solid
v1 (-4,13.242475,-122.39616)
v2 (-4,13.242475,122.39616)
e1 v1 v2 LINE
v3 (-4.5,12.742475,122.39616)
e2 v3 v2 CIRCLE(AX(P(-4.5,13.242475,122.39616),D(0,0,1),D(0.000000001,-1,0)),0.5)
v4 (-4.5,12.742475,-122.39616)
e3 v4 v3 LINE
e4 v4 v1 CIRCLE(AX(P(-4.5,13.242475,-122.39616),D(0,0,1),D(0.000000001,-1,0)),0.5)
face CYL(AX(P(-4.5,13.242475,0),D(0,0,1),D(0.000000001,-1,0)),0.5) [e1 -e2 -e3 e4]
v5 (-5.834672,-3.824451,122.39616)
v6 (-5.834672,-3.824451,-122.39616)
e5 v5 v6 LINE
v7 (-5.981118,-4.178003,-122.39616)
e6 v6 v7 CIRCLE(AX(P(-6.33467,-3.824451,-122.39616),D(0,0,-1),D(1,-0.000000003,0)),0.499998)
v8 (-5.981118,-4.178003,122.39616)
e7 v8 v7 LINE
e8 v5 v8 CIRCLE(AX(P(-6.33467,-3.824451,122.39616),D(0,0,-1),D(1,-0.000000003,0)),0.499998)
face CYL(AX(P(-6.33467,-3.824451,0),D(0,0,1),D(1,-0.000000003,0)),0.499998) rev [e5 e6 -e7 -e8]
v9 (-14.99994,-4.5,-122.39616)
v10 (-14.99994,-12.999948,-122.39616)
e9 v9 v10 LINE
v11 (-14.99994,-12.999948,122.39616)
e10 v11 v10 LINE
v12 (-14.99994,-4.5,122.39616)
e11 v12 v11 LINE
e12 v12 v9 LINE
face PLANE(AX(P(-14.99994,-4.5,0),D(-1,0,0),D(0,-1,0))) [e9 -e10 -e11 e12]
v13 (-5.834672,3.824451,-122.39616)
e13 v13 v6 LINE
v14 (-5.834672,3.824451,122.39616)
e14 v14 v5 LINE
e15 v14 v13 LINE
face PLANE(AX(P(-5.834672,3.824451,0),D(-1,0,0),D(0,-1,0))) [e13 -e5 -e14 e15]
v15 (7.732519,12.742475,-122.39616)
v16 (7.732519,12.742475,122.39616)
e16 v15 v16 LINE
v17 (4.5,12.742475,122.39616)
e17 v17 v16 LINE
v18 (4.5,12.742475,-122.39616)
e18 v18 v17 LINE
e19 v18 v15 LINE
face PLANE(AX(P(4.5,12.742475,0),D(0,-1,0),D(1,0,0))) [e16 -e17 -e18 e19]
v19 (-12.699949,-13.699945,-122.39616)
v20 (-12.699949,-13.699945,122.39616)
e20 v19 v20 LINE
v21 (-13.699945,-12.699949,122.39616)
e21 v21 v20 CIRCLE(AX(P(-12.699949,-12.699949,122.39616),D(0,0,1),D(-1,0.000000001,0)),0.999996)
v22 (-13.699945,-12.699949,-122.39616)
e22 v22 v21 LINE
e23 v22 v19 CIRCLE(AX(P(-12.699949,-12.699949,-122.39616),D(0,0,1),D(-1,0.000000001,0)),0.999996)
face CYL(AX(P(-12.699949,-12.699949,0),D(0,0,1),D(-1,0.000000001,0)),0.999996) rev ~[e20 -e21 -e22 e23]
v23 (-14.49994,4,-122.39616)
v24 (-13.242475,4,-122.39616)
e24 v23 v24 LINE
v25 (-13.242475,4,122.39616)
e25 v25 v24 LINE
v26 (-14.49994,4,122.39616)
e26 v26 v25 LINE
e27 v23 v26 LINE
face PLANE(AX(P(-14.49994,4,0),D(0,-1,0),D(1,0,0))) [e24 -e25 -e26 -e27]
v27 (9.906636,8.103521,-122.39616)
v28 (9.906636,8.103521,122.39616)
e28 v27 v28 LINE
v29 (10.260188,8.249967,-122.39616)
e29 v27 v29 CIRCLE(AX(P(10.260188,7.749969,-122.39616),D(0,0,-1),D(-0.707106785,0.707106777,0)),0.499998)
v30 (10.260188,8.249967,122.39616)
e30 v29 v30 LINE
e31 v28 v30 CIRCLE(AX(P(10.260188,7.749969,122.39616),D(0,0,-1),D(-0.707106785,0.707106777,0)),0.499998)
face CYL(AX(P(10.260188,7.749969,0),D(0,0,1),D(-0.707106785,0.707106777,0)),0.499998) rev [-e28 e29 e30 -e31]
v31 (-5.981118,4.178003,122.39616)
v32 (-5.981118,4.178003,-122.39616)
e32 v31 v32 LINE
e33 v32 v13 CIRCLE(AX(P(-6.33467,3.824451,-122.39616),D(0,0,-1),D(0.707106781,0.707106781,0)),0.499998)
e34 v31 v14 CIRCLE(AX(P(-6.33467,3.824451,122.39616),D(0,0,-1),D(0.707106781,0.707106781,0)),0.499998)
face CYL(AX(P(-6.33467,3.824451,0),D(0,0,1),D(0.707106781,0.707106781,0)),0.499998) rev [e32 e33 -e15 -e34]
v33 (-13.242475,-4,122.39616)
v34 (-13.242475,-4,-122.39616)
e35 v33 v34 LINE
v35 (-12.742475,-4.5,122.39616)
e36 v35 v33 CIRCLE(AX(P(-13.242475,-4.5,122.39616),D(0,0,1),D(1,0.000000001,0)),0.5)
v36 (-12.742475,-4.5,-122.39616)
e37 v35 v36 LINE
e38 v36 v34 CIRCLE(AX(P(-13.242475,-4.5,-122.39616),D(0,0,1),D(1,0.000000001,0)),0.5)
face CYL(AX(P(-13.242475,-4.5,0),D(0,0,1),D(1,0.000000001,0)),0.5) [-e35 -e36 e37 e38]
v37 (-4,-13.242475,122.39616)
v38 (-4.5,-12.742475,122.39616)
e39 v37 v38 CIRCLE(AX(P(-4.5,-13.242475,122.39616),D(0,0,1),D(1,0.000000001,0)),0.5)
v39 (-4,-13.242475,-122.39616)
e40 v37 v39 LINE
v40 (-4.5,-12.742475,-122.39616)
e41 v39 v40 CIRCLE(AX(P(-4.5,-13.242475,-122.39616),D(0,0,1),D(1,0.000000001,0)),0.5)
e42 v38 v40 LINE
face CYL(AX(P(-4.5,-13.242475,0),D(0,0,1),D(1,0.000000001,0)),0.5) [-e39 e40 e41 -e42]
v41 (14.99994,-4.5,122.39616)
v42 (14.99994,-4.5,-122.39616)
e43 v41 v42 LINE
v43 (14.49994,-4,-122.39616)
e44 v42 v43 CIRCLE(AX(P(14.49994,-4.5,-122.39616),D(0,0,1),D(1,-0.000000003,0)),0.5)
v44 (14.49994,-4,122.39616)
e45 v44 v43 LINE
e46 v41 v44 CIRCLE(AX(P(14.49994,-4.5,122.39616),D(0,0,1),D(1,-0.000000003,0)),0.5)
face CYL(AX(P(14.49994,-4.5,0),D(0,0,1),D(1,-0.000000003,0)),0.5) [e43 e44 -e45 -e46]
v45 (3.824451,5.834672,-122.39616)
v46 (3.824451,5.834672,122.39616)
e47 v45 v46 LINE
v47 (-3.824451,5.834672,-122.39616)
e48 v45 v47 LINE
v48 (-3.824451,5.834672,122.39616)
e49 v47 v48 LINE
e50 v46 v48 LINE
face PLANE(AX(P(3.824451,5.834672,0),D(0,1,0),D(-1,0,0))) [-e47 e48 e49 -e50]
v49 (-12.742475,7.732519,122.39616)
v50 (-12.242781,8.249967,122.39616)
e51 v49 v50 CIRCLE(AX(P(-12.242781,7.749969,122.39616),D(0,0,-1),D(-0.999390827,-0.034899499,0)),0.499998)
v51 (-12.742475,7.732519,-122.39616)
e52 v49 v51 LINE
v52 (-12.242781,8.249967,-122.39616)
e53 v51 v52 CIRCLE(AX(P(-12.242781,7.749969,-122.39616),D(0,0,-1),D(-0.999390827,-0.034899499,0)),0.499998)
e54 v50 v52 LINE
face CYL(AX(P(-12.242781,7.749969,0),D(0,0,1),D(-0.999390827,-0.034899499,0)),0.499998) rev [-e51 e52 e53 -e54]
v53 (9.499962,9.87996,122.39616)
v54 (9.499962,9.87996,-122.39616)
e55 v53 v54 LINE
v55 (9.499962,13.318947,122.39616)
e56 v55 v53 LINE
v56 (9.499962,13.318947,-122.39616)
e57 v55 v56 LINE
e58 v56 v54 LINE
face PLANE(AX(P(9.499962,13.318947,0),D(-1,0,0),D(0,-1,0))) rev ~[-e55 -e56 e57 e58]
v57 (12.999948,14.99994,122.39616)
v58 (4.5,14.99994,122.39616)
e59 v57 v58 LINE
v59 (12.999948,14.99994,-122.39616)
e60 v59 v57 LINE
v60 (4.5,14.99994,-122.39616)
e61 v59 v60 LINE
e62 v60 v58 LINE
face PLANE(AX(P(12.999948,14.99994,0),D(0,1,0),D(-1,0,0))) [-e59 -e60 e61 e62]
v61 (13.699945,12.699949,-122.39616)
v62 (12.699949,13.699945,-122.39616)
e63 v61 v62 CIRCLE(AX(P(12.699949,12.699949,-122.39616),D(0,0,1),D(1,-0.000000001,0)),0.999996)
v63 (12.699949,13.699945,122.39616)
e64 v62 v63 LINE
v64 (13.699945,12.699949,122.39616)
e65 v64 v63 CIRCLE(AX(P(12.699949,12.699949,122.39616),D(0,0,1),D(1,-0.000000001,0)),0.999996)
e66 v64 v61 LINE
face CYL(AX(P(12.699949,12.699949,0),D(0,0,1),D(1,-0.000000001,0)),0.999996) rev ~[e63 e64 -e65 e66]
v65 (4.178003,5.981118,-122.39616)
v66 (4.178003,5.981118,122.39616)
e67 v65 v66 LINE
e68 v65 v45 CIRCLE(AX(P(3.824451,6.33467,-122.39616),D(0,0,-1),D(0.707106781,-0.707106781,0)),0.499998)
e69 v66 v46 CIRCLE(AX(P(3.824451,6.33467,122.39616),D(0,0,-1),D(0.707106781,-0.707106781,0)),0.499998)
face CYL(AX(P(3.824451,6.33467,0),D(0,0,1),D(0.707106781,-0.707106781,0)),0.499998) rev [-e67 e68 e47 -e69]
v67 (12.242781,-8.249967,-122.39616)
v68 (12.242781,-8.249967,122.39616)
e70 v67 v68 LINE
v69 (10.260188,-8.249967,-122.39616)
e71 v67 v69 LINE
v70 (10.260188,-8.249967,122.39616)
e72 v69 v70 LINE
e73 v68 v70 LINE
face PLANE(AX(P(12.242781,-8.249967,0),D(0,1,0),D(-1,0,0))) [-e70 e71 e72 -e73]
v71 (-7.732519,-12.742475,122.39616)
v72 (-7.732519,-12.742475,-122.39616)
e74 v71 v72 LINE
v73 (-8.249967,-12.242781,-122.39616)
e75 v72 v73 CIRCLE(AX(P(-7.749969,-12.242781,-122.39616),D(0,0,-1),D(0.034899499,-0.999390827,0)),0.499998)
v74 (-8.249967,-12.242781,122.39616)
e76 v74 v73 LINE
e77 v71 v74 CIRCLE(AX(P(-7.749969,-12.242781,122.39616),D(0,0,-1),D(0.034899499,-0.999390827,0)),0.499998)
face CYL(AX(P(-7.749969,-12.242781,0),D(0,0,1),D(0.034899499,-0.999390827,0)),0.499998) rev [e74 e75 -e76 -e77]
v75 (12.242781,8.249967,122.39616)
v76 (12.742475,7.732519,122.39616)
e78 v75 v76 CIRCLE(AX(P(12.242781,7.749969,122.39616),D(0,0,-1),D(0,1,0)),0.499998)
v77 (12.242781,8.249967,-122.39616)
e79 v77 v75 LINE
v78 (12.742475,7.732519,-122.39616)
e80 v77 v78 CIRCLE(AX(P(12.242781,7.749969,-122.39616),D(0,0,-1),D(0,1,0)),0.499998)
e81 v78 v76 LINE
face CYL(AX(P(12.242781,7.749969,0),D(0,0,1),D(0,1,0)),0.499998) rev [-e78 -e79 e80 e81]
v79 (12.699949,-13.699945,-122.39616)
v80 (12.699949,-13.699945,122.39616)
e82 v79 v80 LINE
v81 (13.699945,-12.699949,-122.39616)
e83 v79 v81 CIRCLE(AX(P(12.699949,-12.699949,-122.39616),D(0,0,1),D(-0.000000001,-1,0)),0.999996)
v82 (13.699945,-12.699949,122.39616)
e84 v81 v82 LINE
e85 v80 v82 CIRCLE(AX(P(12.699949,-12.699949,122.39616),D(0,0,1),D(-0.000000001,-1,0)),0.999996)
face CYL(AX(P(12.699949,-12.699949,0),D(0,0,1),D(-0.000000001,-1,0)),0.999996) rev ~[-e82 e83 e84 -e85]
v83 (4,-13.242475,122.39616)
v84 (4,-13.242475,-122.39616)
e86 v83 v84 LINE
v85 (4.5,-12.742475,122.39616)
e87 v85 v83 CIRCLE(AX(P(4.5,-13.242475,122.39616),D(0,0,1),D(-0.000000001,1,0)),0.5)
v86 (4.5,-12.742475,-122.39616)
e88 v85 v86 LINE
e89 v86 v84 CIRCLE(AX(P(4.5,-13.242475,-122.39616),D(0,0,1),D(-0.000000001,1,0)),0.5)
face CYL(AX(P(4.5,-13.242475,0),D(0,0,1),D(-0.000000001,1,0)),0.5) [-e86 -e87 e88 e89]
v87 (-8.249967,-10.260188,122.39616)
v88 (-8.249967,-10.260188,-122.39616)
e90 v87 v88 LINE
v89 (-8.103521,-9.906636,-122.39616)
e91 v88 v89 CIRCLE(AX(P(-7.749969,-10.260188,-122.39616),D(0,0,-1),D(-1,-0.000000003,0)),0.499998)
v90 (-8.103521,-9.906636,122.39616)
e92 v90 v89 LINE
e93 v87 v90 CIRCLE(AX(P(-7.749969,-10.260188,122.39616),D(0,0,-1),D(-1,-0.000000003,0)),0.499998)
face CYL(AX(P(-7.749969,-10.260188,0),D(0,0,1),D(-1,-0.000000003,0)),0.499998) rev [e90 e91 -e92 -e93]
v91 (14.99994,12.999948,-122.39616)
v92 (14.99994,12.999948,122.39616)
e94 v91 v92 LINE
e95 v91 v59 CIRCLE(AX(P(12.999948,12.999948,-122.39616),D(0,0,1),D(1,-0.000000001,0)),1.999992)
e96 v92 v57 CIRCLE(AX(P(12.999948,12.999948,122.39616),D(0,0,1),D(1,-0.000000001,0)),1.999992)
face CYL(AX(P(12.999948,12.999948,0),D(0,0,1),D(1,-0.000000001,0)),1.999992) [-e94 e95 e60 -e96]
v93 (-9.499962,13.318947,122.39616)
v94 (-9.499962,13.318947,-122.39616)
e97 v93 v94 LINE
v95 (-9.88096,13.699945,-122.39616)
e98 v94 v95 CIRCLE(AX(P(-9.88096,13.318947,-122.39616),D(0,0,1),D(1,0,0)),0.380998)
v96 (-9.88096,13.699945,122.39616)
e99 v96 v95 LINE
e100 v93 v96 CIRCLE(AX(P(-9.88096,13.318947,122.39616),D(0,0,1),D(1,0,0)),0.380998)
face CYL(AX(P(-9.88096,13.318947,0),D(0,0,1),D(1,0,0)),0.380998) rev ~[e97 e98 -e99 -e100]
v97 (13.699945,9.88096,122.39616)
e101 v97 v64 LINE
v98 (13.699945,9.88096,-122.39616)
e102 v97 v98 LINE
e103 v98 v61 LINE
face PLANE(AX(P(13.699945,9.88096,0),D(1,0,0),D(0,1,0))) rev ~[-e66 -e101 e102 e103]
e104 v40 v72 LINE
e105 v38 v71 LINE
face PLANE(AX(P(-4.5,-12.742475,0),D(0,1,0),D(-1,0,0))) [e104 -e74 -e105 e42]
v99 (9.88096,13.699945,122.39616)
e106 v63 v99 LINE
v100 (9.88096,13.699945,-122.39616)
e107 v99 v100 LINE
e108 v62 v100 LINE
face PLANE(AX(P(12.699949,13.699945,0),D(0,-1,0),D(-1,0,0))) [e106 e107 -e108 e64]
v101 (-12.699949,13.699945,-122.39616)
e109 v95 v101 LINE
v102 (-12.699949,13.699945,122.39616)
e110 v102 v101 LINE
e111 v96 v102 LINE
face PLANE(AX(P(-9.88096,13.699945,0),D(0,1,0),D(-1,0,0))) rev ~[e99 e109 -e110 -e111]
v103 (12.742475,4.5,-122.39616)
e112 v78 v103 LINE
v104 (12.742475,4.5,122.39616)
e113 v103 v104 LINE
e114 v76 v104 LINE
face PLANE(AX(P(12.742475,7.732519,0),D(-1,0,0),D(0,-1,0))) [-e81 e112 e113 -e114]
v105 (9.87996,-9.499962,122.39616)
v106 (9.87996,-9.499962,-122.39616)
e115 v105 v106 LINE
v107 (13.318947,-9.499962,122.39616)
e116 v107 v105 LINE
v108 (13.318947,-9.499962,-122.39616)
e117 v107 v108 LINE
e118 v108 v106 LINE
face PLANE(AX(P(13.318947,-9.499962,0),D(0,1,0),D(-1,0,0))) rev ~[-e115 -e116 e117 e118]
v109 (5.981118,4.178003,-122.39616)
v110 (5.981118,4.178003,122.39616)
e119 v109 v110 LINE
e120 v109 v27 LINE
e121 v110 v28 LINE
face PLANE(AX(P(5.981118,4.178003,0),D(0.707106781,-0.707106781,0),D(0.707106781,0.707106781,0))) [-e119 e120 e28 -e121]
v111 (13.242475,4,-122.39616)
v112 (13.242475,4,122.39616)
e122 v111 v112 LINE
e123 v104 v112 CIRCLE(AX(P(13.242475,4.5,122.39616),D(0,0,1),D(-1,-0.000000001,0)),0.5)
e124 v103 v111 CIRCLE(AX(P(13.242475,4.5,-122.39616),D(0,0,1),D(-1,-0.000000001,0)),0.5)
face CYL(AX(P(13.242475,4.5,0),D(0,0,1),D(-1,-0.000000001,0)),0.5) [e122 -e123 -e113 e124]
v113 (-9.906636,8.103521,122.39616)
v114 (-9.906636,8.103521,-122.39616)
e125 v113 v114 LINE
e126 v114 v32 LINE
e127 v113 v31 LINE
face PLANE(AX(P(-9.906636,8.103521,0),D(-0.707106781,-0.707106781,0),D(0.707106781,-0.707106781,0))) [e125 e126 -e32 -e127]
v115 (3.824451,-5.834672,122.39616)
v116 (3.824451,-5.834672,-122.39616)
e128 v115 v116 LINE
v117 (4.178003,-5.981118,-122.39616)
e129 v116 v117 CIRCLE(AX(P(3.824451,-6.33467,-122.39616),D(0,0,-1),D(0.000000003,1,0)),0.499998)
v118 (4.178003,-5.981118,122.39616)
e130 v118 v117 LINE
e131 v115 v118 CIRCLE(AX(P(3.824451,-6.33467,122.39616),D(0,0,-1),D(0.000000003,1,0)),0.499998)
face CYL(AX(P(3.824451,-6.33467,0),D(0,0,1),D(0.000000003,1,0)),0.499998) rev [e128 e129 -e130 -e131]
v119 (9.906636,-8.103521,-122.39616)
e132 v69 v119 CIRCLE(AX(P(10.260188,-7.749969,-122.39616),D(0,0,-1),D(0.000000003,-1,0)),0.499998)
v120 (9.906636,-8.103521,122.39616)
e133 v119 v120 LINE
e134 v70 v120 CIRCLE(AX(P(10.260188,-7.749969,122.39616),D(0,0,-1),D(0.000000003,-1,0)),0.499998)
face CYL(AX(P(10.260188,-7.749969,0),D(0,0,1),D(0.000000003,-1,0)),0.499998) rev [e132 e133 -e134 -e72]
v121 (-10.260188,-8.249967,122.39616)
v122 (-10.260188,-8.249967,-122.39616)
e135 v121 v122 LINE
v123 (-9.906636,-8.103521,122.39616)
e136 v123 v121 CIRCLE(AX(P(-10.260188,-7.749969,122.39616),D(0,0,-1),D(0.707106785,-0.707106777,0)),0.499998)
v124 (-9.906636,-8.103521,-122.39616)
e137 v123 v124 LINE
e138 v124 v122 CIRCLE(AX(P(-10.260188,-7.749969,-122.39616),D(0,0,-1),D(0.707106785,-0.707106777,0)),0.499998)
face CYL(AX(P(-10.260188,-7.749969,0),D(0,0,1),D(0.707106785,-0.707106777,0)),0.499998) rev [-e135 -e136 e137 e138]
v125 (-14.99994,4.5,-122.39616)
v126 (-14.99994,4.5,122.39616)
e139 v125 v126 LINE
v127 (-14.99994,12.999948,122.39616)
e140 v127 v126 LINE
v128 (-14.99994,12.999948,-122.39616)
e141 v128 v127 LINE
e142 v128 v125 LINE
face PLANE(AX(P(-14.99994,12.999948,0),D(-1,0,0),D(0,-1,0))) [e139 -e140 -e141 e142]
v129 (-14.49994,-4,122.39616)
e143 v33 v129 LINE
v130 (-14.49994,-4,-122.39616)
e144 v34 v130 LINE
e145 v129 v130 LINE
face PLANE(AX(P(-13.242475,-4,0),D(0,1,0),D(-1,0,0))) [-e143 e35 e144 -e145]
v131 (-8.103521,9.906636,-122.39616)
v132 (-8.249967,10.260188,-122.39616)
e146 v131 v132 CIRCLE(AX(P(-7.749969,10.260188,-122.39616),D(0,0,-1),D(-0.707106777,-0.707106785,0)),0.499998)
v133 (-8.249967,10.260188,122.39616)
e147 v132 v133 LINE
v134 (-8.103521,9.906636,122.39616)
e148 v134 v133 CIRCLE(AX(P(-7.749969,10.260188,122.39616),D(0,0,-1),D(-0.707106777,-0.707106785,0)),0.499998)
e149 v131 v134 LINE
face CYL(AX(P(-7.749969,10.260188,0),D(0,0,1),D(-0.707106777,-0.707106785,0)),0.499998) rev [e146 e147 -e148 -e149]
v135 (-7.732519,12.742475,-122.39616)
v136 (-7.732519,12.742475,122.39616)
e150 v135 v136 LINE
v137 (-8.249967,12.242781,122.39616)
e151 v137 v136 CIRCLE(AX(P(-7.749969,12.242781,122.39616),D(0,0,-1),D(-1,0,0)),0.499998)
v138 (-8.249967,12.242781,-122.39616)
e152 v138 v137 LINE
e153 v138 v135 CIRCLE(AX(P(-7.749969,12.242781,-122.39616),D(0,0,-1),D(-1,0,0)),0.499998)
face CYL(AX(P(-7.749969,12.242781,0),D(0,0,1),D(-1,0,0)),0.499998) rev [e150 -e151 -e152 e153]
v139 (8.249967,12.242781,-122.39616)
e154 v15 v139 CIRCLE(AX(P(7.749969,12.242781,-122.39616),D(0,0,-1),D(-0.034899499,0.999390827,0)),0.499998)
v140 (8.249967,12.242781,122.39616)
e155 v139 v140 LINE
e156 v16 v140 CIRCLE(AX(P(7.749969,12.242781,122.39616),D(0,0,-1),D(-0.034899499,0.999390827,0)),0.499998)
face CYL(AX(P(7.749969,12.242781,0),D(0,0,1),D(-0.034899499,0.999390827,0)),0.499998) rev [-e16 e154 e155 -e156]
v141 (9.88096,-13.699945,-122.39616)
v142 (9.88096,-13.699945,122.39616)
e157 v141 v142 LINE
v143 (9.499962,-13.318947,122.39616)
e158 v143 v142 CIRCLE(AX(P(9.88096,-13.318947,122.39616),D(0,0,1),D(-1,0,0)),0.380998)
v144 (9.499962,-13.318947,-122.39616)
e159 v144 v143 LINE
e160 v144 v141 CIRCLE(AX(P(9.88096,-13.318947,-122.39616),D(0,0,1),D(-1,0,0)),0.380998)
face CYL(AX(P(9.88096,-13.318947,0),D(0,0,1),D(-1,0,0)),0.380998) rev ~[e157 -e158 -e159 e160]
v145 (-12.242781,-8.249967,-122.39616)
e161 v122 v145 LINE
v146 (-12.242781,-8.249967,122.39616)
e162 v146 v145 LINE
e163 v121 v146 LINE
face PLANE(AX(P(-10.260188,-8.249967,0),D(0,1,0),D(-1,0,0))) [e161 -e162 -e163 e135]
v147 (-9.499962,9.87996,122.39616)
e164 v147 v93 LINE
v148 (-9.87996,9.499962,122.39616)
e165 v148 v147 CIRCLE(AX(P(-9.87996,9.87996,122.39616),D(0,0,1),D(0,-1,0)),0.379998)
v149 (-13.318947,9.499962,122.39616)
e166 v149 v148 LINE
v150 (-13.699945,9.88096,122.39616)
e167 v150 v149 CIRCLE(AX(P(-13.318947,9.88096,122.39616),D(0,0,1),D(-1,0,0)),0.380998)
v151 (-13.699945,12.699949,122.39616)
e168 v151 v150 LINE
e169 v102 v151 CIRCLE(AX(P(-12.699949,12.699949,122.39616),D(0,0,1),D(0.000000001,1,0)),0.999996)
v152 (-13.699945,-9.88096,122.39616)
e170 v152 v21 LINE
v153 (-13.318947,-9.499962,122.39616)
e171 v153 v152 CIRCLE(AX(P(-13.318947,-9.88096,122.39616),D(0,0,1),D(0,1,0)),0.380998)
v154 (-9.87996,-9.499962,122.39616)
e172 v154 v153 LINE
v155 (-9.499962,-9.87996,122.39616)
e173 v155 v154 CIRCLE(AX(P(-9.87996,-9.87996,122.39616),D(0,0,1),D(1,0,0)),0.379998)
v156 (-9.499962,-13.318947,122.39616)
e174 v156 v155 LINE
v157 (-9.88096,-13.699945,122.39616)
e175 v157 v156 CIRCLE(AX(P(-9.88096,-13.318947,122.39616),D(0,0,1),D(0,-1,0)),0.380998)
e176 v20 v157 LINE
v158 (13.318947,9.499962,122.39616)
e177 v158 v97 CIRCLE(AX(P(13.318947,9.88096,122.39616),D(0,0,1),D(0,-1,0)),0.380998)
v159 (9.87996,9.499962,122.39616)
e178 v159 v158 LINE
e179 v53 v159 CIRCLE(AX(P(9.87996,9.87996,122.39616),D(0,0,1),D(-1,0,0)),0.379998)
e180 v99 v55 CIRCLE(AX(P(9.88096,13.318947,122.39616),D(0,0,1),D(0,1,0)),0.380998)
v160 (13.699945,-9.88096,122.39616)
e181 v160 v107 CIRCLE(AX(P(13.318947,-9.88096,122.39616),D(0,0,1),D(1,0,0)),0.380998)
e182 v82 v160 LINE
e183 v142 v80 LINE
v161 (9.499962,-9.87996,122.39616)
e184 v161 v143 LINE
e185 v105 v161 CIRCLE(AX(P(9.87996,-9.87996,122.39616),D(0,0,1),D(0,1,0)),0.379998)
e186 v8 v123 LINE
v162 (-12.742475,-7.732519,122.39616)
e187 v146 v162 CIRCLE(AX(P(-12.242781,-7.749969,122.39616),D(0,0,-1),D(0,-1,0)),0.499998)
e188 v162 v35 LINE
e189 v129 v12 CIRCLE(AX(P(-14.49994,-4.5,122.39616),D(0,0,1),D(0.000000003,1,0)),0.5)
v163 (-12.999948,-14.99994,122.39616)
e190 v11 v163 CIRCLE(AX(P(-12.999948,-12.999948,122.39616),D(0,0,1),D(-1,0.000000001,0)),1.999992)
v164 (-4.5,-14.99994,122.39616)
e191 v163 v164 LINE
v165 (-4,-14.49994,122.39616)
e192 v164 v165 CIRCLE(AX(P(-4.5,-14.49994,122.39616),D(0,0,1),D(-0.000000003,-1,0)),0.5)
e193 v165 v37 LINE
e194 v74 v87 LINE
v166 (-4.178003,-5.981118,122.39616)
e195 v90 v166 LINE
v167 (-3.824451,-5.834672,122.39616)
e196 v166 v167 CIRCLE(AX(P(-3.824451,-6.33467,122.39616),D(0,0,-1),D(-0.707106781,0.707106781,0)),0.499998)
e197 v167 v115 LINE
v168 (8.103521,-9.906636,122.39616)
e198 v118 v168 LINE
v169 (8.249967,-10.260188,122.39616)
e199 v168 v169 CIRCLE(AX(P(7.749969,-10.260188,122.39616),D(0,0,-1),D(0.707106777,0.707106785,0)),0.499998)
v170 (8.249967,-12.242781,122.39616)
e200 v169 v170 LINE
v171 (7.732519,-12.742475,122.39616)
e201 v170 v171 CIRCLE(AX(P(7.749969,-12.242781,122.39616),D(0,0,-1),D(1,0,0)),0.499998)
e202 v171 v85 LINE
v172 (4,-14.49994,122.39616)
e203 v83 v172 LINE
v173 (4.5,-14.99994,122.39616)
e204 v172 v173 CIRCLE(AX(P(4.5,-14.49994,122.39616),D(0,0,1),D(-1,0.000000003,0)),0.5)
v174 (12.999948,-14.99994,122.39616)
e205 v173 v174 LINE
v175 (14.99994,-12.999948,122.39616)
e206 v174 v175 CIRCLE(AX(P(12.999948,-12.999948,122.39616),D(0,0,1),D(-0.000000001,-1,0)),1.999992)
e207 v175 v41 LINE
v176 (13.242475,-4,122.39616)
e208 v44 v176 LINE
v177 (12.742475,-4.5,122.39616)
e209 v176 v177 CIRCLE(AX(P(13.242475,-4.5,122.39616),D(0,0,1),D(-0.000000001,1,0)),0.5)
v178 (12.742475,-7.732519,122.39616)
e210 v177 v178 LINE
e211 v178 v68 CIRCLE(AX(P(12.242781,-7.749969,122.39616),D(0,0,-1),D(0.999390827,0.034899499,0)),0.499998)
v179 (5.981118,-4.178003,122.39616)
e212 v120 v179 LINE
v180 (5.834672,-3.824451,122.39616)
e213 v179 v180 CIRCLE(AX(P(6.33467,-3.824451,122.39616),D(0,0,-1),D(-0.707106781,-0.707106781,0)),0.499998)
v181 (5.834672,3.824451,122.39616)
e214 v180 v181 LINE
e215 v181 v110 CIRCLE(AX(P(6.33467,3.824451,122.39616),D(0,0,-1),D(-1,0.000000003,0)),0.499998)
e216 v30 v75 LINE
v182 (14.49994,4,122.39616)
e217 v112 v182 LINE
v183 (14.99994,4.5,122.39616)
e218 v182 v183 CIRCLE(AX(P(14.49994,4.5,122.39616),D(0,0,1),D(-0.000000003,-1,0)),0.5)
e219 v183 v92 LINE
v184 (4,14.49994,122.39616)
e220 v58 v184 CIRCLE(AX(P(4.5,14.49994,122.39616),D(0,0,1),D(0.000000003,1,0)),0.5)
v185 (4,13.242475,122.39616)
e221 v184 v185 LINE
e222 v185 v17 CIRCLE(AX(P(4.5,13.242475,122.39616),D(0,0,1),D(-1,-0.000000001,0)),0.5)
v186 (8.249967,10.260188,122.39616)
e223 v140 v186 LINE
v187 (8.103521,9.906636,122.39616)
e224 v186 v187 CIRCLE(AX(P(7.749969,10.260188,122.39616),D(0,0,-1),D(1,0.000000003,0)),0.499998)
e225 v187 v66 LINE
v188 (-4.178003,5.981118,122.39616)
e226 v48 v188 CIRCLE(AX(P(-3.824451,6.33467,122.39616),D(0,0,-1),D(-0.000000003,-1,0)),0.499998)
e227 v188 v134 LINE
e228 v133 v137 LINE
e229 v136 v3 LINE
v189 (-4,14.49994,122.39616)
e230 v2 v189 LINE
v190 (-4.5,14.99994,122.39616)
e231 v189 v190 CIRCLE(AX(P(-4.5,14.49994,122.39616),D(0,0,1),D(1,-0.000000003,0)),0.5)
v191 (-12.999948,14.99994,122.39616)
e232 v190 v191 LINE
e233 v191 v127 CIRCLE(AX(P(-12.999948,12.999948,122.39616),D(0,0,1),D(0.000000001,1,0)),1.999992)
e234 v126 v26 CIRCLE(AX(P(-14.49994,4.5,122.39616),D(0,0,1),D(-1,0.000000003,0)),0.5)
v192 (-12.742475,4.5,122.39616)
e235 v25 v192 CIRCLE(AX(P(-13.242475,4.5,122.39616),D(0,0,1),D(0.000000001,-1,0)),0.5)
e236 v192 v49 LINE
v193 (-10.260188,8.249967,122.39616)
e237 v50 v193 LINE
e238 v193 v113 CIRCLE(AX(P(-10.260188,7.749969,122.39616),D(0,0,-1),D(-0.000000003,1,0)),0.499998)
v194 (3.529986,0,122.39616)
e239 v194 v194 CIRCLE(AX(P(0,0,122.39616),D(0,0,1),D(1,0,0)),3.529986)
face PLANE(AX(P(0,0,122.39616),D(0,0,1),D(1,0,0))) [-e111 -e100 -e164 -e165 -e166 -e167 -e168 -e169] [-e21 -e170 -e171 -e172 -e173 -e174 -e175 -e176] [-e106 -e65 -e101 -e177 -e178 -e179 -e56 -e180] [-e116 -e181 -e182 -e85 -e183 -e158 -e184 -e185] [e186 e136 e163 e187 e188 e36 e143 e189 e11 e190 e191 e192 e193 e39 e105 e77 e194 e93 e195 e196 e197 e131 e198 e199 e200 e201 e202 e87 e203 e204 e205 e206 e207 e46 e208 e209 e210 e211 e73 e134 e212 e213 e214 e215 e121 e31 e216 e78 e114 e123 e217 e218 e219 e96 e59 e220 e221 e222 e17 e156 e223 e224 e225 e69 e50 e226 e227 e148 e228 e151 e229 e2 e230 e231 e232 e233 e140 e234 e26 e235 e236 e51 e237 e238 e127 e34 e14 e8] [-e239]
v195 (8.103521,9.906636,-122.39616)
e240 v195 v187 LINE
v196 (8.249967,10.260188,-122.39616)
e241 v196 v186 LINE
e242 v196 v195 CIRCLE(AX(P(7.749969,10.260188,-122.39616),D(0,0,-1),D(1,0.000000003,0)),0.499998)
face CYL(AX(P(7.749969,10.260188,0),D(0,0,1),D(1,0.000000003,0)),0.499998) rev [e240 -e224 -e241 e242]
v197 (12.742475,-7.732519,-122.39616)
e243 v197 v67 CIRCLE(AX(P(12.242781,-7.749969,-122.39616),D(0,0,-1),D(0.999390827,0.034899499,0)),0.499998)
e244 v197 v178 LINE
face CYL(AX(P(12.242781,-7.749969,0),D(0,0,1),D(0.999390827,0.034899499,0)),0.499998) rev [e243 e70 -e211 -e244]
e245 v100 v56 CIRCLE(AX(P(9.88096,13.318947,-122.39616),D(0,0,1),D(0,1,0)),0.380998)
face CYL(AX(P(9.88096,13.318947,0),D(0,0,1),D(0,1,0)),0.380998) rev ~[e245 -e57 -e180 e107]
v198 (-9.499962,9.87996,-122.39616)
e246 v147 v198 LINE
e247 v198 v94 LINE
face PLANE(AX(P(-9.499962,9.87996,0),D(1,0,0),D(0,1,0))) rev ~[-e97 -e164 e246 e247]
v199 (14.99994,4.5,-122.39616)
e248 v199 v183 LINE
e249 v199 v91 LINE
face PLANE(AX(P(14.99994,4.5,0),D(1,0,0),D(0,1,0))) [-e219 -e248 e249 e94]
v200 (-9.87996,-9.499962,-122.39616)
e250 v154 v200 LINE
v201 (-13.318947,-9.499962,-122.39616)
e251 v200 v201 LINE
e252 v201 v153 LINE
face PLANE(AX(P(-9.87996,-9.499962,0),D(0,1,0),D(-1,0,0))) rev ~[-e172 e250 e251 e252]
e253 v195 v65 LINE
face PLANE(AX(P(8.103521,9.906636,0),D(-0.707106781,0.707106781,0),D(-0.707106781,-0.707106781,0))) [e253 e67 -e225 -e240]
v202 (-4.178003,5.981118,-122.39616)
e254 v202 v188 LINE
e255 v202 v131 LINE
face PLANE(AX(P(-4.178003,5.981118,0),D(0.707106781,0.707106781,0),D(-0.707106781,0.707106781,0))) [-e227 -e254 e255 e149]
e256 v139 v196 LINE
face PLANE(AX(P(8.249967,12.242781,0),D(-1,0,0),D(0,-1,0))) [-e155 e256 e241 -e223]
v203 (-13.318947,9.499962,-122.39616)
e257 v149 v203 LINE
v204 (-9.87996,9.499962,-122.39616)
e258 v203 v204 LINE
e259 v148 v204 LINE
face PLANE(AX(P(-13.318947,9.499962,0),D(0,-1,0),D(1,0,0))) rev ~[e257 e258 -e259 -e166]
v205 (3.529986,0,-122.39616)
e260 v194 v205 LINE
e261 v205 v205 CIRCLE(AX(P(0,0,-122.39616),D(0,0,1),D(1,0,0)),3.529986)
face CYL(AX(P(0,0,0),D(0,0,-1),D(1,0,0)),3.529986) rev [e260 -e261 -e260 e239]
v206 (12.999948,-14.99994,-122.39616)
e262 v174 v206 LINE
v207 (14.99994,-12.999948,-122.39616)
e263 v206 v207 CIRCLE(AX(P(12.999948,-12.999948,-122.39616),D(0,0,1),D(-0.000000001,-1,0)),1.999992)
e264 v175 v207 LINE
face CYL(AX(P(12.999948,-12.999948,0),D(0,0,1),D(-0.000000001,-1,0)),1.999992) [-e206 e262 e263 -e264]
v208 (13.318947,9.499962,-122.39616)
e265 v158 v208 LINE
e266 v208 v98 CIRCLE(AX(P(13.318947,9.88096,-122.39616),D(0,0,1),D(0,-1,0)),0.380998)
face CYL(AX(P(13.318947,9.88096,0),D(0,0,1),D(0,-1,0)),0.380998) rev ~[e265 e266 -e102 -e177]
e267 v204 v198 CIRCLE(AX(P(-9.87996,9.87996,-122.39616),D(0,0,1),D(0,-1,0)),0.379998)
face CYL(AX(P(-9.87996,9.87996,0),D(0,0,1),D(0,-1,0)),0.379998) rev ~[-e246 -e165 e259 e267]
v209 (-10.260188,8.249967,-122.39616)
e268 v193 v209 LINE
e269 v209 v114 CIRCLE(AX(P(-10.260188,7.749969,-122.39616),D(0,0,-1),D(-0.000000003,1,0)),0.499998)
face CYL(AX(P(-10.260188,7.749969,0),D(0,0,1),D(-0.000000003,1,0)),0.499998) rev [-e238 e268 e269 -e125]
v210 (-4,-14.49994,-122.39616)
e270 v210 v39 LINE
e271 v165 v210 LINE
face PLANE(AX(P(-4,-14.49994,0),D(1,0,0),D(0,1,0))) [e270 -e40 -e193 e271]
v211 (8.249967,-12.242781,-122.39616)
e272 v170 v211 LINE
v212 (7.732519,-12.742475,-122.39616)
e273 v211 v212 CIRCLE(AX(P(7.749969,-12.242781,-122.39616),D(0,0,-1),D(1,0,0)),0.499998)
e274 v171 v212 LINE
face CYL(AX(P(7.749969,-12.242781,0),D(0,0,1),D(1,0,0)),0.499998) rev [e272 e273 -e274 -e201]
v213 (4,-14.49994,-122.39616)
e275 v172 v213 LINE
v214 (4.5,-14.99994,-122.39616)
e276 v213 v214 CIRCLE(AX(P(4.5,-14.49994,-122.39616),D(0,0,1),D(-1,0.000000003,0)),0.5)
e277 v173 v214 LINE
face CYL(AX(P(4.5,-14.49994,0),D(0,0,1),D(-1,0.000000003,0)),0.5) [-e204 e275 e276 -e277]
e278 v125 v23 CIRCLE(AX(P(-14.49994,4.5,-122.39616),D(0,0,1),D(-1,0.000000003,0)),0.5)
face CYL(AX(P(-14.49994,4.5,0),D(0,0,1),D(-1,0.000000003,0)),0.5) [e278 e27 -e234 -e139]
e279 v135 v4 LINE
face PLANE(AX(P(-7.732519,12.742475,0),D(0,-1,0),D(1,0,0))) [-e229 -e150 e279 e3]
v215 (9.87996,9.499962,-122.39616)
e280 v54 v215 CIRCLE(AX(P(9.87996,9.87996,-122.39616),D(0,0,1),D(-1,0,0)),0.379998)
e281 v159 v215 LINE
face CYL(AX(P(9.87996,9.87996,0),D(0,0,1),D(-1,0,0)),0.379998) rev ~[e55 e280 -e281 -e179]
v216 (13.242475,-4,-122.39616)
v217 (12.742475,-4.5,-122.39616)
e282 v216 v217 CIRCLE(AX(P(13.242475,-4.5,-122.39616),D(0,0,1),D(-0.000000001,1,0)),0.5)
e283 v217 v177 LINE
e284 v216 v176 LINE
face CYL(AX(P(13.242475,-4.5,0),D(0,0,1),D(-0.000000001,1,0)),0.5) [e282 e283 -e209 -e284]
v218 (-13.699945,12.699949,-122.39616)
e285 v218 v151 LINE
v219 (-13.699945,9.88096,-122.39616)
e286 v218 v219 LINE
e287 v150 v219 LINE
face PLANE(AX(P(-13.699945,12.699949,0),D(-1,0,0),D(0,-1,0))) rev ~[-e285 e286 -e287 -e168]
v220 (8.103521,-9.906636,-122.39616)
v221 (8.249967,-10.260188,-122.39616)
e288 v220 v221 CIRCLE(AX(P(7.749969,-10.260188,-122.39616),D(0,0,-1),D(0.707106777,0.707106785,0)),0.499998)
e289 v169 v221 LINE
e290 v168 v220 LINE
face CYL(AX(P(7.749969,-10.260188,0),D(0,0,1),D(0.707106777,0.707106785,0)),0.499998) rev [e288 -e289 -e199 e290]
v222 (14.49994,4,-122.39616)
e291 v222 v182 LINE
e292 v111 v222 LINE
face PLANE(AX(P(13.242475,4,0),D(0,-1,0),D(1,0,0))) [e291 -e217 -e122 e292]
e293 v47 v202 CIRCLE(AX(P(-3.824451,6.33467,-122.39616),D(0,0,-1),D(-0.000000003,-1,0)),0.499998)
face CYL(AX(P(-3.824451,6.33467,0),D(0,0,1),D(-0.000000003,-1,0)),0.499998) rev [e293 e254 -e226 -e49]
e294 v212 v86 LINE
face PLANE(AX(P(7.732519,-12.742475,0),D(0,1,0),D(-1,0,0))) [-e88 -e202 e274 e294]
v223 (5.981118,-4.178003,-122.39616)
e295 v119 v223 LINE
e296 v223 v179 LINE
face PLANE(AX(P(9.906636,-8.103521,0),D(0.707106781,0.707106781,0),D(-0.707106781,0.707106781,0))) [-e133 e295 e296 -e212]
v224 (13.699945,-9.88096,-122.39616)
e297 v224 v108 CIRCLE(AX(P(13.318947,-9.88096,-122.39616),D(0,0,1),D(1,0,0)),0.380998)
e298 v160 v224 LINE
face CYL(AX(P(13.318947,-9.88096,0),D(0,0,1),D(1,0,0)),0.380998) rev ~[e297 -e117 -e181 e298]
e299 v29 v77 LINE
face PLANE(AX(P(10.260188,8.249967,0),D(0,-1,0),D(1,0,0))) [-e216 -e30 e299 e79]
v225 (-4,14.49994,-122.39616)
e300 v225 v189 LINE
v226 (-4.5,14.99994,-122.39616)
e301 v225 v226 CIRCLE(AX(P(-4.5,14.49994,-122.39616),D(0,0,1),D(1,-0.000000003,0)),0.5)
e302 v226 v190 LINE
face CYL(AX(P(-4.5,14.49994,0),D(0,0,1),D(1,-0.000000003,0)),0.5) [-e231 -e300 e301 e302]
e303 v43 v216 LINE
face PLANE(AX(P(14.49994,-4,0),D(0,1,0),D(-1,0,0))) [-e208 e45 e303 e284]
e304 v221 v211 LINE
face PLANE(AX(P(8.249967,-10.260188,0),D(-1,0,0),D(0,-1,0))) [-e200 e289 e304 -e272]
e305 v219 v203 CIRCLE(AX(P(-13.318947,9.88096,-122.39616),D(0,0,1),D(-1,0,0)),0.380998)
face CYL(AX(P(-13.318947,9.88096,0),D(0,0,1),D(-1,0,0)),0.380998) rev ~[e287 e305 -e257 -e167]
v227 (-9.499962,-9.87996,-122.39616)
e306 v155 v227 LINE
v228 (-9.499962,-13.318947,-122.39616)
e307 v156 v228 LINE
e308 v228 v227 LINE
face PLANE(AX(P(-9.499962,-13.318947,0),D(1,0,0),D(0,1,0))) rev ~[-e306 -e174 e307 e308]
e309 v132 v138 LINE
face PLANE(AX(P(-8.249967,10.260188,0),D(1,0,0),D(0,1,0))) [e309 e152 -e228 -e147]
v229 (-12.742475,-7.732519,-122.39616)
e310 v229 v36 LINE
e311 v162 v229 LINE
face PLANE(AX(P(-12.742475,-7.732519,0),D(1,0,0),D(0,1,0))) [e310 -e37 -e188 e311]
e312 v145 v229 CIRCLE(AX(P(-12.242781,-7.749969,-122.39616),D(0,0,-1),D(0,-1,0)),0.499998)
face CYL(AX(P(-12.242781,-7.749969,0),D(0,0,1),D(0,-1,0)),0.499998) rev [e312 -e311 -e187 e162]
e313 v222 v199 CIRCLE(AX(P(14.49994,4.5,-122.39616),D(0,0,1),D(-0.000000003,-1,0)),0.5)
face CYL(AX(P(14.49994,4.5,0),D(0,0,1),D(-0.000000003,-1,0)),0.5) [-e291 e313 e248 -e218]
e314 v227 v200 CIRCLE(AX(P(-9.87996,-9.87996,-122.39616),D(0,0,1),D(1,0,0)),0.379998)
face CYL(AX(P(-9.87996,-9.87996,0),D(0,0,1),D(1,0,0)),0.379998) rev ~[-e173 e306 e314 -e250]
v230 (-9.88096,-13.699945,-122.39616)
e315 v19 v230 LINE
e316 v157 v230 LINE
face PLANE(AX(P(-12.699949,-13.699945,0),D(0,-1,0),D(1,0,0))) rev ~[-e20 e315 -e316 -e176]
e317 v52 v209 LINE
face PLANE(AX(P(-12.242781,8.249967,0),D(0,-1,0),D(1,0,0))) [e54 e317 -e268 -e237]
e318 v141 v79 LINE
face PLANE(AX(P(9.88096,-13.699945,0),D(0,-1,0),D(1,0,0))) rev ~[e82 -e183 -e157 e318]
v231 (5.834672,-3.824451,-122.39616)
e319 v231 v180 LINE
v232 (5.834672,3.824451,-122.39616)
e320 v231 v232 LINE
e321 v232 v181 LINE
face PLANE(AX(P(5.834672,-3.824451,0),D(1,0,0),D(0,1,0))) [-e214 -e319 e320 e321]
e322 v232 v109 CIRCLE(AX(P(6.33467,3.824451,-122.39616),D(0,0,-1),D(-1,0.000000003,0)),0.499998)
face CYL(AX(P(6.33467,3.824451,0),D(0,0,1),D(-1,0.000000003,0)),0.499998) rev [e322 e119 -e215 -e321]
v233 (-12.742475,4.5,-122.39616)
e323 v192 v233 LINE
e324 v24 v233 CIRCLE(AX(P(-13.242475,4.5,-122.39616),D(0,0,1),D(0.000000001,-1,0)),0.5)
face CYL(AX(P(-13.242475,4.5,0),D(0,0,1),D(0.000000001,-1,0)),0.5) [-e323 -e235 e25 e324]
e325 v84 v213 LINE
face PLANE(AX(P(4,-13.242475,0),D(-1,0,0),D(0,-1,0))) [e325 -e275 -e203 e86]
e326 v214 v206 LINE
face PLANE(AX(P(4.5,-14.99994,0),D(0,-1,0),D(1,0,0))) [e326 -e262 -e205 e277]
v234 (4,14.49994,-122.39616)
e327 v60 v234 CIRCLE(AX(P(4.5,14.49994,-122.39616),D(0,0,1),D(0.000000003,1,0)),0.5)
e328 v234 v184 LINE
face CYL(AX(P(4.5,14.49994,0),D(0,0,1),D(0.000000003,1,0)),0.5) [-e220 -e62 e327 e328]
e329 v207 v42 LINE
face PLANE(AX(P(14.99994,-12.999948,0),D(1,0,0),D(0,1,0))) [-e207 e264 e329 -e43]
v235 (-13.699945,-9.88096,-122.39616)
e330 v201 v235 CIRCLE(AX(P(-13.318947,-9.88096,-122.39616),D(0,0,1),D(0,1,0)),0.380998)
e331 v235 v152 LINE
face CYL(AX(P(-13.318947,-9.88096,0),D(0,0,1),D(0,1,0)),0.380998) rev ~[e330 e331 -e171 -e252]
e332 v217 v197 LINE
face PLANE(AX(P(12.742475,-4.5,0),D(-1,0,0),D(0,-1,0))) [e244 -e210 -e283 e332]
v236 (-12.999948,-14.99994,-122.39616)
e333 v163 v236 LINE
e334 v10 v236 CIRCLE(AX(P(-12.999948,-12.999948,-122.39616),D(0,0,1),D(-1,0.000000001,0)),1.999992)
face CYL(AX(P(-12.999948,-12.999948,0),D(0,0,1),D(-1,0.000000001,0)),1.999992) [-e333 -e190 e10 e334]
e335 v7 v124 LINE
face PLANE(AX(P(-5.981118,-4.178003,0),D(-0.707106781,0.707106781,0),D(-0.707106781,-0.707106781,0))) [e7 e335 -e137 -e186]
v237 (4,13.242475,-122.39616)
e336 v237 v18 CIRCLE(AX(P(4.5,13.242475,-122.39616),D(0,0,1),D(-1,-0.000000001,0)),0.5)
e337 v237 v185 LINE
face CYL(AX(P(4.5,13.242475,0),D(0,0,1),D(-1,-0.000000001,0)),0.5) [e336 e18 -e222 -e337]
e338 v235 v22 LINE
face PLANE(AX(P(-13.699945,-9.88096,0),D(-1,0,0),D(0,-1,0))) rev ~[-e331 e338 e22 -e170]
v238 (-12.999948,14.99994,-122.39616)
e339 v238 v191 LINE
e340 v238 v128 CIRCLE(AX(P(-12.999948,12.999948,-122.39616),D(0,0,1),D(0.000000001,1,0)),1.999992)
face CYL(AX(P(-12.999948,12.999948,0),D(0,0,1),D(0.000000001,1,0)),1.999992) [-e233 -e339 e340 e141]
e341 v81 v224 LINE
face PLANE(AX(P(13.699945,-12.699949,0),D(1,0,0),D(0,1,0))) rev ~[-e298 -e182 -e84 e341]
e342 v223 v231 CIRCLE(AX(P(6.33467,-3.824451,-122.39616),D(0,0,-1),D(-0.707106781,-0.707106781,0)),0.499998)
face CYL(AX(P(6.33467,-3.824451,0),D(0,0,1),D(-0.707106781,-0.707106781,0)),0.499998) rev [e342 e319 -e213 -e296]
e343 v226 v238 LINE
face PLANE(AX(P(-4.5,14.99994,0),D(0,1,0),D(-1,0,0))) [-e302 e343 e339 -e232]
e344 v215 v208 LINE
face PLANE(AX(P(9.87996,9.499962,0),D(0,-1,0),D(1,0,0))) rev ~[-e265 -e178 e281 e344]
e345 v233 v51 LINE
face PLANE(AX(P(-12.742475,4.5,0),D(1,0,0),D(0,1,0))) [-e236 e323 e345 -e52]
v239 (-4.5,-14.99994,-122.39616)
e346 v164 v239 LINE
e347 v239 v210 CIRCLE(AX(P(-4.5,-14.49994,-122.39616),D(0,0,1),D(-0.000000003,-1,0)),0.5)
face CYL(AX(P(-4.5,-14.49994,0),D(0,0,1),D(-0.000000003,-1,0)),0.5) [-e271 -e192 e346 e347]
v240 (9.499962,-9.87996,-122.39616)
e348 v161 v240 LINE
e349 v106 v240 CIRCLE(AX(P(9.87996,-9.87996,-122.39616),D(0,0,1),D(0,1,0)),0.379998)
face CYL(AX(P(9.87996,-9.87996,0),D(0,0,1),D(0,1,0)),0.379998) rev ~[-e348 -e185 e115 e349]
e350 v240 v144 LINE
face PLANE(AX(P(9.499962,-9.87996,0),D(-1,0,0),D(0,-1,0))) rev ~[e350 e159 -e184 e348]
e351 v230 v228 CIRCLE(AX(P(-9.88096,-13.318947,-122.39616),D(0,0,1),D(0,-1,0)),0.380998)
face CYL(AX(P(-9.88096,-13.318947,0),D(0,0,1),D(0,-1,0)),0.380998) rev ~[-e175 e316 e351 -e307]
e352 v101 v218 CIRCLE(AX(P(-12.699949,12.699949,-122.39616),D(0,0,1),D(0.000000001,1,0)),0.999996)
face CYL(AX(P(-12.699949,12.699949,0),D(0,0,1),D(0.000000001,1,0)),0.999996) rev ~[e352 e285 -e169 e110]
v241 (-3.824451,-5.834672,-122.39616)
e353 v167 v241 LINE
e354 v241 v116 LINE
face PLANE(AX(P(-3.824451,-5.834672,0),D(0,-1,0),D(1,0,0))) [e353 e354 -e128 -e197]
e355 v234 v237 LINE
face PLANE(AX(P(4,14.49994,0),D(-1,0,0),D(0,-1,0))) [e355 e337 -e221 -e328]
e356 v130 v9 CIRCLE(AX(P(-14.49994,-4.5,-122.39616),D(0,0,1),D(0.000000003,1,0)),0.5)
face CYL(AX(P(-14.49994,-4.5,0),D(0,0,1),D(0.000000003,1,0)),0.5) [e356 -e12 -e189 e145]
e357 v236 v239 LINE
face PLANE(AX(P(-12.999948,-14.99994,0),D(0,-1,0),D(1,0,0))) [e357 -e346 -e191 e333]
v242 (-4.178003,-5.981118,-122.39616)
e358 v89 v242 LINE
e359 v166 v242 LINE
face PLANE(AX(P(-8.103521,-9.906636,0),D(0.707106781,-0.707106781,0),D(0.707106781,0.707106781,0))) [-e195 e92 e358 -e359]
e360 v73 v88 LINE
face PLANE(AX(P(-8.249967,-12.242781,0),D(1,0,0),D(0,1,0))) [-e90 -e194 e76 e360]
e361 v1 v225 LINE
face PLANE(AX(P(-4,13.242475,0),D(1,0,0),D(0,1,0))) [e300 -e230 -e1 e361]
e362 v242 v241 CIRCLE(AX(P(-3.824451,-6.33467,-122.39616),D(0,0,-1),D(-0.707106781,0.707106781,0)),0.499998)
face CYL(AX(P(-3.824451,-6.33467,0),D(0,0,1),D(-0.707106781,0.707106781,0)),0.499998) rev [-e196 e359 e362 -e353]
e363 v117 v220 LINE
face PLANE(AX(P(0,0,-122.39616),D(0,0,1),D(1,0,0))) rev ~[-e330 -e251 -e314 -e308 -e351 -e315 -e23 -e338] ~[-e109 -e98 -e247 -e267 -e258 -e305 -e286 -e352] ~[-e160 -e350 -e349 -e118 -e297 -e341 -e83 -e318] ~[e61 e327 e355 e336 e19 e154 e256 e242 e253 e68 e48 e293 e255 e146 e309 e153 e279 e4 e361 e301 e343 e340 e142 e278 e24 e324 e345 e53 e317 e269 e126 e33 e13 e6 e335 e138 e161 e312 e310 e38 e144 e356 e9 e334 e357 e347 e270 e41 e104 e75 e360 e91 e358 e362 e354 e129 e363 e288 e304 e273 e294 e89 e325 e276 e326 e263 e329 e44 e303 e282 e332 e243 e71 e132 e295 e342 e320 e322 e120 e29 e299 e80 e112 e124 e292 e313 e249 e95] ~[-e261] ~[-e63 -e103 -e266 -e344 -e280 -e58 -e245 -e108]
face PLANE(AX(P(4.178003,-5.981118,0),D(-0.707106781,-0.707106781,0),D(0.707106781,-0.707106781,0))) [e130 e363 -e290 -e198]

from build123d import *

# Parameters (mm, degrees)
SKETCH1_R           = 3.52998588
BOSS_EXTRUDE1_DEPTH = 122.396160471


with BuildPart() as part:
    # Sketch1 → Boss-Extrude1 (new, symmetric)
    with BuildSketch(Plane.XY):
        with BuildLine():
            Line((14.49994, -4), (13.24247465, -4))
            ThreePointArc((13.24247465, -4), (12.88892126, -4.146446609), (12.74247465, -4.5))
            Line((12.74247465, -4.5), (12.74247465, -7.732519321))
            ThreePointArc((12.74247465, -7.732519321), (12.602449697, -8.097296796), (12.242781236, -8.249967))
            Line((12.242781236, -8.249967), (10.260188032, -8.249967))
            ThreePointArc((10.260188032, -8.249967), (10.068847082, -8.211906919), (9.906636056, -8.103520976))
            Line((9.906636056, -8.103520976), (5.981117769, -4.178002689))
            ThreePointArc((5.981117769, -4.178002689), (5.872731827, -4.015791664), (5.834671745, -3.824450713))
            Line((5.834671745, -3.824450713), (5.834671745, -1.01249595))
            Line((5.834671745, -1.01249595), (5.834671745, 0.88749645))
            Line((5.834671745, 0.88749645), (5.834671745, 3.824450713))
            ThreePointArc((5.834671745, 3.824450713), (5.872731827, 4.015791664), (5.981117769, 4.178002689))
            Line((5.981117769, 4.178002689), (9.906636056, 8.103520976))
            ThreePointArc((9.906636056, 8.103520976), (10.068847082, 8.211906919), (10.260188032, 8.249967))
            Line((10.260188032, 8.249967), (12.242781236, 8.249967))
            ThreePointArc((12.242781236, 8.249967), (12.602449697, 8.097296796), (12.74247465, 7.732519321))
            Line((12.74247465, 7.732519321), (12.74247465, 4.5))
            ThreePointArc((12.74247465, 4.5), (12.88892126, 4.146446609), (13.24247465, 4))
            Line((13.24247465, 4), (14.49994, 4))
            ThreePointArc((14.49994, 4), (14.853493391, 4.146446609), (14.99994, 4.5))
            Line((14.99994, 4.5), (14.99994, 12.999948))
            ThreePointArc((14.99994, 12.999948), (14.414155906, 14.414155906), (12.999948, 14.99994))
            Line((12.999948, 14.99994), (4.5, 14.99994))
            ThreePointArc((4.5, 14.99994), (4.146446609, 14.853493391), (4, 14.49994))
            Line((4, 14.49994), (4, 13.24247465))
            ThreePointArc((4, 13.24247465), (4.146446609, 12.88892126), (4.5, 12.74247465))
            Line((4.5, 12.74247465), (7.732519321, 12.74247465))
            ThreePointArc((7.732519321, 12.74247465), (8.097296796, 12.602449697), (8.249967, 12.242781236))
            Line((8.249967, 12.242781236), (8.249967, 10.260188032))
            ThreePointArc((8.249967, 10.260188032), (8.211906919, 10.068847082), (8.103520976, 9.906636056))
            Line((8.103520976, 9.906636056), (4.178002689, 5.981117769))
            ThreePointArc((4.178002689, 5.981117769), (4.015791664, 5.872731827), (3.824450713, 5.834671745))
            Line((3.824450713, 5.834671745), (0.9499962, 5.834671745))
            Line((0.9499962, 5.834671745), (-0.9499962, 5.834671745))
            Line((-0.9499962, 5.834671745), (-3.824450713, 5.834671745))
            ThreePointArc((-3.824450713, 5.834671745), (-4.015791664, 5.872731827), (-4.178002689, 5.981117769))
            Line((-4.178002689, 5.981117769), (-8.103520976, 9.906636056))
            ThreePointArc((-8.103520976, 9.906636056), (-8.211906919, 10.068847082), (-8.249967, 10.260188032))
            Line((-8.249967, 10.260188032), (-8.249967, 12.242781236))
            ThreePointArc((-8.249967, 12.242781236), (-8.097296796, 12.602449697), (-7.732519321, 12.74247465))
            Line((-7.732519321, 12.74247465), (-4.5, 12.74247465))
            ThreePointArc((-4.5, 12.74247465), (-4.146446609, 12.88892126), (-4, 13.24247465))
            Line((-4, 13.24247465), (-4, 14.49994))
            ThreePointArc((-4, 14.49994), (-4.146446609, 14.853493391), (-4.5, 14.99994))
            Line((-4.5, 14.99994), (-12.999948, 14.99994))
            ThreePointArc((-12.999948, 14.99994), (-14.414155906, 14.414155906), (-14.99994, 12.999948))
            Line((-14.99994, 12.999948), (-14.99994, 4.5))
            ThreePointArc((-14.99994, 4.5), (-14.853493391, 4.146446609), (-14.49994, 4))
            Line((-14.49994, 4), (-13.24247465, 4))
            ThreePointArc((-13.24247465, 4), (-12.88892126, 4.146446609), (-12.74247465, 4.5))
            Line((-12.74247465, 4.5), (-12.74247465, 7.732519321))
            ThreePointArc((-12.74247465, 7.732519321), (-12.602449697, 8.097296796), (-12.242781236, 8.249967))
            Line((-12.242781236, 8.249967), (-10.260188032, 8.249967))
            ThreePointArc((-10.260188032, 8.249967), (-10.068847082, 8.211906919), (-9.906636056, 8.103520976))
            Line((-9.906636056, 8.103520976), (-5.981117769, 4.178002689))
            ThreePointArc((-5.981117769, 4.178002689), (-5.872731827, 4.015791664), (-5.834671745, 3.824450713))
            Line((-5.834671745, 3.824450713), (-5.834671745, 0.88749645))
            Line((-5.834671745, 0.88749645), (-5.834671745, -1.01249595))
            Line((-5.834671745, -1.01249595), (-5.834671745, -3.824450713))
            ThreePointArc((-5.834671745, -3.824450713), (-5.872731827, -4.015791664), (-5.981117769, -4.178002689))
            Line((-5.981117769, -4.178002689), (-9.906636056, -8.103520976))
            ThreePointArc((-9.906636056, -8.103520976), (-10.068847082, -8.211906919), (-10.260188032, -8.249967))
            Line((-10.260188032, -8.249967), (-12.242781236, -8.249967))
            ThreePointArc((-12.242781236, -8.249967), (-12.602449697, -8.097296796), (-12.74247465, -7.732519321))
            Line((-12.74247465, -7.732519321), (-12.74247465, -4.5))
            ThreePointArc((-12.74247465, -4.5), (-12.88892126, -4.146446609), (-13.24247465, -4))
            Line((-13.24247465, -4), (-14.49994, -4))
            ThreePointArc((-14.49994, -4), (-14.853493391, -4.146446609), (-14.99994, -4.5))
            Line((-14.99994, -4.5), (-14.99994, -12.999948))
            ThreePointArc((-14.99994, -12.999948), (-14.414155906, -14.414155906), (-12.999948, -14.99994))
            Line((-12.999948, -14.99994), (-4.5, -14.99994))
            ThreePointArc((-4.5, -14.99994), (-4.146446609, -14.853493391), (-4, -14.49994))
            Line((-4, -14.49994), (-4, -13.24247465))
            ThreePointArc((-4, -13.24247465), (-4.146446609, -12.88892126), (-4.5, -12.74247465))
            Line((-4.5, -12.74247465), (-7.732519321, -12.74247465))
            ThreePointArc((-7.732519321, -12.74247465), (-8.097296796, -12.602449697), (-8.249967, -12.242781236))
            Line((-8.249967, -12.242781236), (-8.249967, -10.260188032))
            ThreePointArc((-8.249967, -10.260188032), (-8.211906919, -10.068847082), (-8.103520976, -9.906636056))
            Line((-8.103520976, -9.906636056), (-4.178002689, -5.981117769))
            ThreePointArc((-4.178002689, -5.981117769), (-4.015791664, -5.872731827), (-3.824450713, -5.834671745))
            Line((-3.824450713, -5.834671745), (-0.9499962, -5.834671745))
            Line((-0.9499962, -5.834671745), (0.9499962, -5.834671745))
            Line((0.9499962, -5.834671745), (3.824450713, -5.834671745))
            ThreePointArc((3.824450713, -5.834671745), (4.015791664, -5.872731827), (4.178002689, -5.981117769))
            Line((4.178002689, -5.981117769), (8.103520976, -9.906636056))
            ThreePointArc((8.103520976, -9.906636056), (8.211906919, -10.068847082), (8.249967, -10.260188032))
            Line((8.249967, -10.260188032), (8.249967, -12.242781236))
            ThreePointArc((8.249967, -12.242781236), (8.097296796, -12.602449697), (7.732519321, -12.74247465))
            Line((7.732519321, -12.74247465), (4.5, -12.74247465))
            ThreePointArc((4.5, -12.74247465), (4.146446609, -12.88892126), (4, -13.24247465))
            Line((4, -13.24247465), (4, -14.49994))
            ThreePointArc((4, -14.49994), (4.146446609, -14.853493391), (4.5, -14.99994))
            Line((4.5, -14.99994), (12.999948, -14.99994))
            ThreePointArc((12.999948, -14.99994), (14.414155906, -14.414155906), (14.99994, -12.999948))
            Line((14.99994, -12.999948), (14.99994, -4.5))
            ThreePointArc((14.99994, -4.5), (14.853493391, -4.146446609), (14.49994, -4))
        make_face()
        Circle(SKETCH1_R, mode=Mode.SUBTRACT)
        with BuildLine():
            Line((-12.6999492, -13.6999452), (-9.880960476, -13.6999452))
            ThreePointArc((-9.880960476, -13.6999452), (-9.61155387, -13.58835333), (-9.499962, -13.318946724))
            Line((-9.499962, -13.318946724), (-9.499962, -9.87996048))
            ThreePointArc((-9.499962, -9.87996048), (-9.611260978, -9.611260978), (-9.87996048, -9.499962))
            Line((-9.87996048, -9.499962), (-13.318946724, -9.499962))
            ThreePointArc((-13.318946724, -9.499962), (-13.58835333, -9.61155387), (-13.6999452, -9.880960476))
            Line((-13.6999452, -9.880960476), (-13.6999452, -12.6999492))
            ThreePointArc((-13.6999452, -12.6999492), (-13.407053153, -13.407053153), (-12.6999492, -13.6999452))
        make_face(mode=Mode.SUBTRACT)
        with BuildLine():
            Line((13.6999452, -12.6999492), (13.6999452, -9.880960476))
            ThreePointArc((13.6999452, -9.880960476), (13.58835333, -9.61155387), (13.318946724, -9.499962))
            Line((13.318946724, -9.499962), (9.87996048, -9.499962))
            ThreePointArc((9.87996048, -9.499962), (9.611260978, -9.611260978), (9.499962, -9.87996048))
            Line((9.499962, -9.87996048), (9.499962, -13.318946724))
            ThreePointArc((9.499962, -13.318946724), (9.61155387, -13.58835333), (9.880960476, -13.6999452))
            Line((9.880960476, -13.6999452), (12.6999492, -13.6999452))
            ThreePointArc((12.6999492, -13.6999452), (13.407053153, -13.407053153), (13.6999452, -12.6999492))
        make_face(mode=Mode.SUBTRACT)
        with BuildLine():
            Line((9.87996048, 9.499962), (13.318946724, 9.499962))
            ThreePointArc((13.318946724, 9.499962), (13.58835333, 9.61155387), (13.6999452, 9.880960476))
            Line((13.6999452, 9.880960476), (13.6999452, 12.6999492))
            ThreePointArc((13.6999452, 12.6999492), (13.407053153, 13.407053153), (12.6999492, 13.6999452))
            Line((12.6999492, 13.6999452), (9.880960476, 13.6999452))
            ThreePointArc((9.880960476, 13.6999452), (9.61155387, 13.58835333), (9.499962, 13.318946724))
            Line((9.499962, 13.318946724), (9.499962, 9.87996048))
            ThreePointArc((9.499962, 9.87996048), (9.611260978, 9.611260978), (9.87996048, 9.499962))
        make_face(mode=Mode.SUBTRACT)
        with BuildLine():
            Line((-13.6999452, 12.6999492), (-13.6999452, 9.880960476))
            ThreePointArc((-13.6999452, 9.880960476), (-13.58835333, 9.61155387), (-13.318946724, 9.499962))
            Line((-13.318946724, 9.499962), (-9.87996048, 9.499962))
            ThreePointArc((-9.87996048, 9.499962), (-9.611260978, 9.611260978), (-9.499962, 9.87996048))
            Line((-9.499962, 9.87996048), (-9.499962, 13.318946724))
            ThreePointArc((-9.499962, 13.318946724), (-9.61155387, 13.58835333), (-9.880960476, 13.6999452))
            Line((-9.880960476, 13.6999452), (-12.6999492, 13.6999452))
            ThreePointArc((-12.6999492, 13.6999452), (-13.407053153, 13.407053153), (-13.6999452, 12.6999492))
        make_face(mode=Mode.SUBTRACT)
    extrude(amount=BOSS_EXTRUDE1_DEPTH, both=True)


solid = part.part
